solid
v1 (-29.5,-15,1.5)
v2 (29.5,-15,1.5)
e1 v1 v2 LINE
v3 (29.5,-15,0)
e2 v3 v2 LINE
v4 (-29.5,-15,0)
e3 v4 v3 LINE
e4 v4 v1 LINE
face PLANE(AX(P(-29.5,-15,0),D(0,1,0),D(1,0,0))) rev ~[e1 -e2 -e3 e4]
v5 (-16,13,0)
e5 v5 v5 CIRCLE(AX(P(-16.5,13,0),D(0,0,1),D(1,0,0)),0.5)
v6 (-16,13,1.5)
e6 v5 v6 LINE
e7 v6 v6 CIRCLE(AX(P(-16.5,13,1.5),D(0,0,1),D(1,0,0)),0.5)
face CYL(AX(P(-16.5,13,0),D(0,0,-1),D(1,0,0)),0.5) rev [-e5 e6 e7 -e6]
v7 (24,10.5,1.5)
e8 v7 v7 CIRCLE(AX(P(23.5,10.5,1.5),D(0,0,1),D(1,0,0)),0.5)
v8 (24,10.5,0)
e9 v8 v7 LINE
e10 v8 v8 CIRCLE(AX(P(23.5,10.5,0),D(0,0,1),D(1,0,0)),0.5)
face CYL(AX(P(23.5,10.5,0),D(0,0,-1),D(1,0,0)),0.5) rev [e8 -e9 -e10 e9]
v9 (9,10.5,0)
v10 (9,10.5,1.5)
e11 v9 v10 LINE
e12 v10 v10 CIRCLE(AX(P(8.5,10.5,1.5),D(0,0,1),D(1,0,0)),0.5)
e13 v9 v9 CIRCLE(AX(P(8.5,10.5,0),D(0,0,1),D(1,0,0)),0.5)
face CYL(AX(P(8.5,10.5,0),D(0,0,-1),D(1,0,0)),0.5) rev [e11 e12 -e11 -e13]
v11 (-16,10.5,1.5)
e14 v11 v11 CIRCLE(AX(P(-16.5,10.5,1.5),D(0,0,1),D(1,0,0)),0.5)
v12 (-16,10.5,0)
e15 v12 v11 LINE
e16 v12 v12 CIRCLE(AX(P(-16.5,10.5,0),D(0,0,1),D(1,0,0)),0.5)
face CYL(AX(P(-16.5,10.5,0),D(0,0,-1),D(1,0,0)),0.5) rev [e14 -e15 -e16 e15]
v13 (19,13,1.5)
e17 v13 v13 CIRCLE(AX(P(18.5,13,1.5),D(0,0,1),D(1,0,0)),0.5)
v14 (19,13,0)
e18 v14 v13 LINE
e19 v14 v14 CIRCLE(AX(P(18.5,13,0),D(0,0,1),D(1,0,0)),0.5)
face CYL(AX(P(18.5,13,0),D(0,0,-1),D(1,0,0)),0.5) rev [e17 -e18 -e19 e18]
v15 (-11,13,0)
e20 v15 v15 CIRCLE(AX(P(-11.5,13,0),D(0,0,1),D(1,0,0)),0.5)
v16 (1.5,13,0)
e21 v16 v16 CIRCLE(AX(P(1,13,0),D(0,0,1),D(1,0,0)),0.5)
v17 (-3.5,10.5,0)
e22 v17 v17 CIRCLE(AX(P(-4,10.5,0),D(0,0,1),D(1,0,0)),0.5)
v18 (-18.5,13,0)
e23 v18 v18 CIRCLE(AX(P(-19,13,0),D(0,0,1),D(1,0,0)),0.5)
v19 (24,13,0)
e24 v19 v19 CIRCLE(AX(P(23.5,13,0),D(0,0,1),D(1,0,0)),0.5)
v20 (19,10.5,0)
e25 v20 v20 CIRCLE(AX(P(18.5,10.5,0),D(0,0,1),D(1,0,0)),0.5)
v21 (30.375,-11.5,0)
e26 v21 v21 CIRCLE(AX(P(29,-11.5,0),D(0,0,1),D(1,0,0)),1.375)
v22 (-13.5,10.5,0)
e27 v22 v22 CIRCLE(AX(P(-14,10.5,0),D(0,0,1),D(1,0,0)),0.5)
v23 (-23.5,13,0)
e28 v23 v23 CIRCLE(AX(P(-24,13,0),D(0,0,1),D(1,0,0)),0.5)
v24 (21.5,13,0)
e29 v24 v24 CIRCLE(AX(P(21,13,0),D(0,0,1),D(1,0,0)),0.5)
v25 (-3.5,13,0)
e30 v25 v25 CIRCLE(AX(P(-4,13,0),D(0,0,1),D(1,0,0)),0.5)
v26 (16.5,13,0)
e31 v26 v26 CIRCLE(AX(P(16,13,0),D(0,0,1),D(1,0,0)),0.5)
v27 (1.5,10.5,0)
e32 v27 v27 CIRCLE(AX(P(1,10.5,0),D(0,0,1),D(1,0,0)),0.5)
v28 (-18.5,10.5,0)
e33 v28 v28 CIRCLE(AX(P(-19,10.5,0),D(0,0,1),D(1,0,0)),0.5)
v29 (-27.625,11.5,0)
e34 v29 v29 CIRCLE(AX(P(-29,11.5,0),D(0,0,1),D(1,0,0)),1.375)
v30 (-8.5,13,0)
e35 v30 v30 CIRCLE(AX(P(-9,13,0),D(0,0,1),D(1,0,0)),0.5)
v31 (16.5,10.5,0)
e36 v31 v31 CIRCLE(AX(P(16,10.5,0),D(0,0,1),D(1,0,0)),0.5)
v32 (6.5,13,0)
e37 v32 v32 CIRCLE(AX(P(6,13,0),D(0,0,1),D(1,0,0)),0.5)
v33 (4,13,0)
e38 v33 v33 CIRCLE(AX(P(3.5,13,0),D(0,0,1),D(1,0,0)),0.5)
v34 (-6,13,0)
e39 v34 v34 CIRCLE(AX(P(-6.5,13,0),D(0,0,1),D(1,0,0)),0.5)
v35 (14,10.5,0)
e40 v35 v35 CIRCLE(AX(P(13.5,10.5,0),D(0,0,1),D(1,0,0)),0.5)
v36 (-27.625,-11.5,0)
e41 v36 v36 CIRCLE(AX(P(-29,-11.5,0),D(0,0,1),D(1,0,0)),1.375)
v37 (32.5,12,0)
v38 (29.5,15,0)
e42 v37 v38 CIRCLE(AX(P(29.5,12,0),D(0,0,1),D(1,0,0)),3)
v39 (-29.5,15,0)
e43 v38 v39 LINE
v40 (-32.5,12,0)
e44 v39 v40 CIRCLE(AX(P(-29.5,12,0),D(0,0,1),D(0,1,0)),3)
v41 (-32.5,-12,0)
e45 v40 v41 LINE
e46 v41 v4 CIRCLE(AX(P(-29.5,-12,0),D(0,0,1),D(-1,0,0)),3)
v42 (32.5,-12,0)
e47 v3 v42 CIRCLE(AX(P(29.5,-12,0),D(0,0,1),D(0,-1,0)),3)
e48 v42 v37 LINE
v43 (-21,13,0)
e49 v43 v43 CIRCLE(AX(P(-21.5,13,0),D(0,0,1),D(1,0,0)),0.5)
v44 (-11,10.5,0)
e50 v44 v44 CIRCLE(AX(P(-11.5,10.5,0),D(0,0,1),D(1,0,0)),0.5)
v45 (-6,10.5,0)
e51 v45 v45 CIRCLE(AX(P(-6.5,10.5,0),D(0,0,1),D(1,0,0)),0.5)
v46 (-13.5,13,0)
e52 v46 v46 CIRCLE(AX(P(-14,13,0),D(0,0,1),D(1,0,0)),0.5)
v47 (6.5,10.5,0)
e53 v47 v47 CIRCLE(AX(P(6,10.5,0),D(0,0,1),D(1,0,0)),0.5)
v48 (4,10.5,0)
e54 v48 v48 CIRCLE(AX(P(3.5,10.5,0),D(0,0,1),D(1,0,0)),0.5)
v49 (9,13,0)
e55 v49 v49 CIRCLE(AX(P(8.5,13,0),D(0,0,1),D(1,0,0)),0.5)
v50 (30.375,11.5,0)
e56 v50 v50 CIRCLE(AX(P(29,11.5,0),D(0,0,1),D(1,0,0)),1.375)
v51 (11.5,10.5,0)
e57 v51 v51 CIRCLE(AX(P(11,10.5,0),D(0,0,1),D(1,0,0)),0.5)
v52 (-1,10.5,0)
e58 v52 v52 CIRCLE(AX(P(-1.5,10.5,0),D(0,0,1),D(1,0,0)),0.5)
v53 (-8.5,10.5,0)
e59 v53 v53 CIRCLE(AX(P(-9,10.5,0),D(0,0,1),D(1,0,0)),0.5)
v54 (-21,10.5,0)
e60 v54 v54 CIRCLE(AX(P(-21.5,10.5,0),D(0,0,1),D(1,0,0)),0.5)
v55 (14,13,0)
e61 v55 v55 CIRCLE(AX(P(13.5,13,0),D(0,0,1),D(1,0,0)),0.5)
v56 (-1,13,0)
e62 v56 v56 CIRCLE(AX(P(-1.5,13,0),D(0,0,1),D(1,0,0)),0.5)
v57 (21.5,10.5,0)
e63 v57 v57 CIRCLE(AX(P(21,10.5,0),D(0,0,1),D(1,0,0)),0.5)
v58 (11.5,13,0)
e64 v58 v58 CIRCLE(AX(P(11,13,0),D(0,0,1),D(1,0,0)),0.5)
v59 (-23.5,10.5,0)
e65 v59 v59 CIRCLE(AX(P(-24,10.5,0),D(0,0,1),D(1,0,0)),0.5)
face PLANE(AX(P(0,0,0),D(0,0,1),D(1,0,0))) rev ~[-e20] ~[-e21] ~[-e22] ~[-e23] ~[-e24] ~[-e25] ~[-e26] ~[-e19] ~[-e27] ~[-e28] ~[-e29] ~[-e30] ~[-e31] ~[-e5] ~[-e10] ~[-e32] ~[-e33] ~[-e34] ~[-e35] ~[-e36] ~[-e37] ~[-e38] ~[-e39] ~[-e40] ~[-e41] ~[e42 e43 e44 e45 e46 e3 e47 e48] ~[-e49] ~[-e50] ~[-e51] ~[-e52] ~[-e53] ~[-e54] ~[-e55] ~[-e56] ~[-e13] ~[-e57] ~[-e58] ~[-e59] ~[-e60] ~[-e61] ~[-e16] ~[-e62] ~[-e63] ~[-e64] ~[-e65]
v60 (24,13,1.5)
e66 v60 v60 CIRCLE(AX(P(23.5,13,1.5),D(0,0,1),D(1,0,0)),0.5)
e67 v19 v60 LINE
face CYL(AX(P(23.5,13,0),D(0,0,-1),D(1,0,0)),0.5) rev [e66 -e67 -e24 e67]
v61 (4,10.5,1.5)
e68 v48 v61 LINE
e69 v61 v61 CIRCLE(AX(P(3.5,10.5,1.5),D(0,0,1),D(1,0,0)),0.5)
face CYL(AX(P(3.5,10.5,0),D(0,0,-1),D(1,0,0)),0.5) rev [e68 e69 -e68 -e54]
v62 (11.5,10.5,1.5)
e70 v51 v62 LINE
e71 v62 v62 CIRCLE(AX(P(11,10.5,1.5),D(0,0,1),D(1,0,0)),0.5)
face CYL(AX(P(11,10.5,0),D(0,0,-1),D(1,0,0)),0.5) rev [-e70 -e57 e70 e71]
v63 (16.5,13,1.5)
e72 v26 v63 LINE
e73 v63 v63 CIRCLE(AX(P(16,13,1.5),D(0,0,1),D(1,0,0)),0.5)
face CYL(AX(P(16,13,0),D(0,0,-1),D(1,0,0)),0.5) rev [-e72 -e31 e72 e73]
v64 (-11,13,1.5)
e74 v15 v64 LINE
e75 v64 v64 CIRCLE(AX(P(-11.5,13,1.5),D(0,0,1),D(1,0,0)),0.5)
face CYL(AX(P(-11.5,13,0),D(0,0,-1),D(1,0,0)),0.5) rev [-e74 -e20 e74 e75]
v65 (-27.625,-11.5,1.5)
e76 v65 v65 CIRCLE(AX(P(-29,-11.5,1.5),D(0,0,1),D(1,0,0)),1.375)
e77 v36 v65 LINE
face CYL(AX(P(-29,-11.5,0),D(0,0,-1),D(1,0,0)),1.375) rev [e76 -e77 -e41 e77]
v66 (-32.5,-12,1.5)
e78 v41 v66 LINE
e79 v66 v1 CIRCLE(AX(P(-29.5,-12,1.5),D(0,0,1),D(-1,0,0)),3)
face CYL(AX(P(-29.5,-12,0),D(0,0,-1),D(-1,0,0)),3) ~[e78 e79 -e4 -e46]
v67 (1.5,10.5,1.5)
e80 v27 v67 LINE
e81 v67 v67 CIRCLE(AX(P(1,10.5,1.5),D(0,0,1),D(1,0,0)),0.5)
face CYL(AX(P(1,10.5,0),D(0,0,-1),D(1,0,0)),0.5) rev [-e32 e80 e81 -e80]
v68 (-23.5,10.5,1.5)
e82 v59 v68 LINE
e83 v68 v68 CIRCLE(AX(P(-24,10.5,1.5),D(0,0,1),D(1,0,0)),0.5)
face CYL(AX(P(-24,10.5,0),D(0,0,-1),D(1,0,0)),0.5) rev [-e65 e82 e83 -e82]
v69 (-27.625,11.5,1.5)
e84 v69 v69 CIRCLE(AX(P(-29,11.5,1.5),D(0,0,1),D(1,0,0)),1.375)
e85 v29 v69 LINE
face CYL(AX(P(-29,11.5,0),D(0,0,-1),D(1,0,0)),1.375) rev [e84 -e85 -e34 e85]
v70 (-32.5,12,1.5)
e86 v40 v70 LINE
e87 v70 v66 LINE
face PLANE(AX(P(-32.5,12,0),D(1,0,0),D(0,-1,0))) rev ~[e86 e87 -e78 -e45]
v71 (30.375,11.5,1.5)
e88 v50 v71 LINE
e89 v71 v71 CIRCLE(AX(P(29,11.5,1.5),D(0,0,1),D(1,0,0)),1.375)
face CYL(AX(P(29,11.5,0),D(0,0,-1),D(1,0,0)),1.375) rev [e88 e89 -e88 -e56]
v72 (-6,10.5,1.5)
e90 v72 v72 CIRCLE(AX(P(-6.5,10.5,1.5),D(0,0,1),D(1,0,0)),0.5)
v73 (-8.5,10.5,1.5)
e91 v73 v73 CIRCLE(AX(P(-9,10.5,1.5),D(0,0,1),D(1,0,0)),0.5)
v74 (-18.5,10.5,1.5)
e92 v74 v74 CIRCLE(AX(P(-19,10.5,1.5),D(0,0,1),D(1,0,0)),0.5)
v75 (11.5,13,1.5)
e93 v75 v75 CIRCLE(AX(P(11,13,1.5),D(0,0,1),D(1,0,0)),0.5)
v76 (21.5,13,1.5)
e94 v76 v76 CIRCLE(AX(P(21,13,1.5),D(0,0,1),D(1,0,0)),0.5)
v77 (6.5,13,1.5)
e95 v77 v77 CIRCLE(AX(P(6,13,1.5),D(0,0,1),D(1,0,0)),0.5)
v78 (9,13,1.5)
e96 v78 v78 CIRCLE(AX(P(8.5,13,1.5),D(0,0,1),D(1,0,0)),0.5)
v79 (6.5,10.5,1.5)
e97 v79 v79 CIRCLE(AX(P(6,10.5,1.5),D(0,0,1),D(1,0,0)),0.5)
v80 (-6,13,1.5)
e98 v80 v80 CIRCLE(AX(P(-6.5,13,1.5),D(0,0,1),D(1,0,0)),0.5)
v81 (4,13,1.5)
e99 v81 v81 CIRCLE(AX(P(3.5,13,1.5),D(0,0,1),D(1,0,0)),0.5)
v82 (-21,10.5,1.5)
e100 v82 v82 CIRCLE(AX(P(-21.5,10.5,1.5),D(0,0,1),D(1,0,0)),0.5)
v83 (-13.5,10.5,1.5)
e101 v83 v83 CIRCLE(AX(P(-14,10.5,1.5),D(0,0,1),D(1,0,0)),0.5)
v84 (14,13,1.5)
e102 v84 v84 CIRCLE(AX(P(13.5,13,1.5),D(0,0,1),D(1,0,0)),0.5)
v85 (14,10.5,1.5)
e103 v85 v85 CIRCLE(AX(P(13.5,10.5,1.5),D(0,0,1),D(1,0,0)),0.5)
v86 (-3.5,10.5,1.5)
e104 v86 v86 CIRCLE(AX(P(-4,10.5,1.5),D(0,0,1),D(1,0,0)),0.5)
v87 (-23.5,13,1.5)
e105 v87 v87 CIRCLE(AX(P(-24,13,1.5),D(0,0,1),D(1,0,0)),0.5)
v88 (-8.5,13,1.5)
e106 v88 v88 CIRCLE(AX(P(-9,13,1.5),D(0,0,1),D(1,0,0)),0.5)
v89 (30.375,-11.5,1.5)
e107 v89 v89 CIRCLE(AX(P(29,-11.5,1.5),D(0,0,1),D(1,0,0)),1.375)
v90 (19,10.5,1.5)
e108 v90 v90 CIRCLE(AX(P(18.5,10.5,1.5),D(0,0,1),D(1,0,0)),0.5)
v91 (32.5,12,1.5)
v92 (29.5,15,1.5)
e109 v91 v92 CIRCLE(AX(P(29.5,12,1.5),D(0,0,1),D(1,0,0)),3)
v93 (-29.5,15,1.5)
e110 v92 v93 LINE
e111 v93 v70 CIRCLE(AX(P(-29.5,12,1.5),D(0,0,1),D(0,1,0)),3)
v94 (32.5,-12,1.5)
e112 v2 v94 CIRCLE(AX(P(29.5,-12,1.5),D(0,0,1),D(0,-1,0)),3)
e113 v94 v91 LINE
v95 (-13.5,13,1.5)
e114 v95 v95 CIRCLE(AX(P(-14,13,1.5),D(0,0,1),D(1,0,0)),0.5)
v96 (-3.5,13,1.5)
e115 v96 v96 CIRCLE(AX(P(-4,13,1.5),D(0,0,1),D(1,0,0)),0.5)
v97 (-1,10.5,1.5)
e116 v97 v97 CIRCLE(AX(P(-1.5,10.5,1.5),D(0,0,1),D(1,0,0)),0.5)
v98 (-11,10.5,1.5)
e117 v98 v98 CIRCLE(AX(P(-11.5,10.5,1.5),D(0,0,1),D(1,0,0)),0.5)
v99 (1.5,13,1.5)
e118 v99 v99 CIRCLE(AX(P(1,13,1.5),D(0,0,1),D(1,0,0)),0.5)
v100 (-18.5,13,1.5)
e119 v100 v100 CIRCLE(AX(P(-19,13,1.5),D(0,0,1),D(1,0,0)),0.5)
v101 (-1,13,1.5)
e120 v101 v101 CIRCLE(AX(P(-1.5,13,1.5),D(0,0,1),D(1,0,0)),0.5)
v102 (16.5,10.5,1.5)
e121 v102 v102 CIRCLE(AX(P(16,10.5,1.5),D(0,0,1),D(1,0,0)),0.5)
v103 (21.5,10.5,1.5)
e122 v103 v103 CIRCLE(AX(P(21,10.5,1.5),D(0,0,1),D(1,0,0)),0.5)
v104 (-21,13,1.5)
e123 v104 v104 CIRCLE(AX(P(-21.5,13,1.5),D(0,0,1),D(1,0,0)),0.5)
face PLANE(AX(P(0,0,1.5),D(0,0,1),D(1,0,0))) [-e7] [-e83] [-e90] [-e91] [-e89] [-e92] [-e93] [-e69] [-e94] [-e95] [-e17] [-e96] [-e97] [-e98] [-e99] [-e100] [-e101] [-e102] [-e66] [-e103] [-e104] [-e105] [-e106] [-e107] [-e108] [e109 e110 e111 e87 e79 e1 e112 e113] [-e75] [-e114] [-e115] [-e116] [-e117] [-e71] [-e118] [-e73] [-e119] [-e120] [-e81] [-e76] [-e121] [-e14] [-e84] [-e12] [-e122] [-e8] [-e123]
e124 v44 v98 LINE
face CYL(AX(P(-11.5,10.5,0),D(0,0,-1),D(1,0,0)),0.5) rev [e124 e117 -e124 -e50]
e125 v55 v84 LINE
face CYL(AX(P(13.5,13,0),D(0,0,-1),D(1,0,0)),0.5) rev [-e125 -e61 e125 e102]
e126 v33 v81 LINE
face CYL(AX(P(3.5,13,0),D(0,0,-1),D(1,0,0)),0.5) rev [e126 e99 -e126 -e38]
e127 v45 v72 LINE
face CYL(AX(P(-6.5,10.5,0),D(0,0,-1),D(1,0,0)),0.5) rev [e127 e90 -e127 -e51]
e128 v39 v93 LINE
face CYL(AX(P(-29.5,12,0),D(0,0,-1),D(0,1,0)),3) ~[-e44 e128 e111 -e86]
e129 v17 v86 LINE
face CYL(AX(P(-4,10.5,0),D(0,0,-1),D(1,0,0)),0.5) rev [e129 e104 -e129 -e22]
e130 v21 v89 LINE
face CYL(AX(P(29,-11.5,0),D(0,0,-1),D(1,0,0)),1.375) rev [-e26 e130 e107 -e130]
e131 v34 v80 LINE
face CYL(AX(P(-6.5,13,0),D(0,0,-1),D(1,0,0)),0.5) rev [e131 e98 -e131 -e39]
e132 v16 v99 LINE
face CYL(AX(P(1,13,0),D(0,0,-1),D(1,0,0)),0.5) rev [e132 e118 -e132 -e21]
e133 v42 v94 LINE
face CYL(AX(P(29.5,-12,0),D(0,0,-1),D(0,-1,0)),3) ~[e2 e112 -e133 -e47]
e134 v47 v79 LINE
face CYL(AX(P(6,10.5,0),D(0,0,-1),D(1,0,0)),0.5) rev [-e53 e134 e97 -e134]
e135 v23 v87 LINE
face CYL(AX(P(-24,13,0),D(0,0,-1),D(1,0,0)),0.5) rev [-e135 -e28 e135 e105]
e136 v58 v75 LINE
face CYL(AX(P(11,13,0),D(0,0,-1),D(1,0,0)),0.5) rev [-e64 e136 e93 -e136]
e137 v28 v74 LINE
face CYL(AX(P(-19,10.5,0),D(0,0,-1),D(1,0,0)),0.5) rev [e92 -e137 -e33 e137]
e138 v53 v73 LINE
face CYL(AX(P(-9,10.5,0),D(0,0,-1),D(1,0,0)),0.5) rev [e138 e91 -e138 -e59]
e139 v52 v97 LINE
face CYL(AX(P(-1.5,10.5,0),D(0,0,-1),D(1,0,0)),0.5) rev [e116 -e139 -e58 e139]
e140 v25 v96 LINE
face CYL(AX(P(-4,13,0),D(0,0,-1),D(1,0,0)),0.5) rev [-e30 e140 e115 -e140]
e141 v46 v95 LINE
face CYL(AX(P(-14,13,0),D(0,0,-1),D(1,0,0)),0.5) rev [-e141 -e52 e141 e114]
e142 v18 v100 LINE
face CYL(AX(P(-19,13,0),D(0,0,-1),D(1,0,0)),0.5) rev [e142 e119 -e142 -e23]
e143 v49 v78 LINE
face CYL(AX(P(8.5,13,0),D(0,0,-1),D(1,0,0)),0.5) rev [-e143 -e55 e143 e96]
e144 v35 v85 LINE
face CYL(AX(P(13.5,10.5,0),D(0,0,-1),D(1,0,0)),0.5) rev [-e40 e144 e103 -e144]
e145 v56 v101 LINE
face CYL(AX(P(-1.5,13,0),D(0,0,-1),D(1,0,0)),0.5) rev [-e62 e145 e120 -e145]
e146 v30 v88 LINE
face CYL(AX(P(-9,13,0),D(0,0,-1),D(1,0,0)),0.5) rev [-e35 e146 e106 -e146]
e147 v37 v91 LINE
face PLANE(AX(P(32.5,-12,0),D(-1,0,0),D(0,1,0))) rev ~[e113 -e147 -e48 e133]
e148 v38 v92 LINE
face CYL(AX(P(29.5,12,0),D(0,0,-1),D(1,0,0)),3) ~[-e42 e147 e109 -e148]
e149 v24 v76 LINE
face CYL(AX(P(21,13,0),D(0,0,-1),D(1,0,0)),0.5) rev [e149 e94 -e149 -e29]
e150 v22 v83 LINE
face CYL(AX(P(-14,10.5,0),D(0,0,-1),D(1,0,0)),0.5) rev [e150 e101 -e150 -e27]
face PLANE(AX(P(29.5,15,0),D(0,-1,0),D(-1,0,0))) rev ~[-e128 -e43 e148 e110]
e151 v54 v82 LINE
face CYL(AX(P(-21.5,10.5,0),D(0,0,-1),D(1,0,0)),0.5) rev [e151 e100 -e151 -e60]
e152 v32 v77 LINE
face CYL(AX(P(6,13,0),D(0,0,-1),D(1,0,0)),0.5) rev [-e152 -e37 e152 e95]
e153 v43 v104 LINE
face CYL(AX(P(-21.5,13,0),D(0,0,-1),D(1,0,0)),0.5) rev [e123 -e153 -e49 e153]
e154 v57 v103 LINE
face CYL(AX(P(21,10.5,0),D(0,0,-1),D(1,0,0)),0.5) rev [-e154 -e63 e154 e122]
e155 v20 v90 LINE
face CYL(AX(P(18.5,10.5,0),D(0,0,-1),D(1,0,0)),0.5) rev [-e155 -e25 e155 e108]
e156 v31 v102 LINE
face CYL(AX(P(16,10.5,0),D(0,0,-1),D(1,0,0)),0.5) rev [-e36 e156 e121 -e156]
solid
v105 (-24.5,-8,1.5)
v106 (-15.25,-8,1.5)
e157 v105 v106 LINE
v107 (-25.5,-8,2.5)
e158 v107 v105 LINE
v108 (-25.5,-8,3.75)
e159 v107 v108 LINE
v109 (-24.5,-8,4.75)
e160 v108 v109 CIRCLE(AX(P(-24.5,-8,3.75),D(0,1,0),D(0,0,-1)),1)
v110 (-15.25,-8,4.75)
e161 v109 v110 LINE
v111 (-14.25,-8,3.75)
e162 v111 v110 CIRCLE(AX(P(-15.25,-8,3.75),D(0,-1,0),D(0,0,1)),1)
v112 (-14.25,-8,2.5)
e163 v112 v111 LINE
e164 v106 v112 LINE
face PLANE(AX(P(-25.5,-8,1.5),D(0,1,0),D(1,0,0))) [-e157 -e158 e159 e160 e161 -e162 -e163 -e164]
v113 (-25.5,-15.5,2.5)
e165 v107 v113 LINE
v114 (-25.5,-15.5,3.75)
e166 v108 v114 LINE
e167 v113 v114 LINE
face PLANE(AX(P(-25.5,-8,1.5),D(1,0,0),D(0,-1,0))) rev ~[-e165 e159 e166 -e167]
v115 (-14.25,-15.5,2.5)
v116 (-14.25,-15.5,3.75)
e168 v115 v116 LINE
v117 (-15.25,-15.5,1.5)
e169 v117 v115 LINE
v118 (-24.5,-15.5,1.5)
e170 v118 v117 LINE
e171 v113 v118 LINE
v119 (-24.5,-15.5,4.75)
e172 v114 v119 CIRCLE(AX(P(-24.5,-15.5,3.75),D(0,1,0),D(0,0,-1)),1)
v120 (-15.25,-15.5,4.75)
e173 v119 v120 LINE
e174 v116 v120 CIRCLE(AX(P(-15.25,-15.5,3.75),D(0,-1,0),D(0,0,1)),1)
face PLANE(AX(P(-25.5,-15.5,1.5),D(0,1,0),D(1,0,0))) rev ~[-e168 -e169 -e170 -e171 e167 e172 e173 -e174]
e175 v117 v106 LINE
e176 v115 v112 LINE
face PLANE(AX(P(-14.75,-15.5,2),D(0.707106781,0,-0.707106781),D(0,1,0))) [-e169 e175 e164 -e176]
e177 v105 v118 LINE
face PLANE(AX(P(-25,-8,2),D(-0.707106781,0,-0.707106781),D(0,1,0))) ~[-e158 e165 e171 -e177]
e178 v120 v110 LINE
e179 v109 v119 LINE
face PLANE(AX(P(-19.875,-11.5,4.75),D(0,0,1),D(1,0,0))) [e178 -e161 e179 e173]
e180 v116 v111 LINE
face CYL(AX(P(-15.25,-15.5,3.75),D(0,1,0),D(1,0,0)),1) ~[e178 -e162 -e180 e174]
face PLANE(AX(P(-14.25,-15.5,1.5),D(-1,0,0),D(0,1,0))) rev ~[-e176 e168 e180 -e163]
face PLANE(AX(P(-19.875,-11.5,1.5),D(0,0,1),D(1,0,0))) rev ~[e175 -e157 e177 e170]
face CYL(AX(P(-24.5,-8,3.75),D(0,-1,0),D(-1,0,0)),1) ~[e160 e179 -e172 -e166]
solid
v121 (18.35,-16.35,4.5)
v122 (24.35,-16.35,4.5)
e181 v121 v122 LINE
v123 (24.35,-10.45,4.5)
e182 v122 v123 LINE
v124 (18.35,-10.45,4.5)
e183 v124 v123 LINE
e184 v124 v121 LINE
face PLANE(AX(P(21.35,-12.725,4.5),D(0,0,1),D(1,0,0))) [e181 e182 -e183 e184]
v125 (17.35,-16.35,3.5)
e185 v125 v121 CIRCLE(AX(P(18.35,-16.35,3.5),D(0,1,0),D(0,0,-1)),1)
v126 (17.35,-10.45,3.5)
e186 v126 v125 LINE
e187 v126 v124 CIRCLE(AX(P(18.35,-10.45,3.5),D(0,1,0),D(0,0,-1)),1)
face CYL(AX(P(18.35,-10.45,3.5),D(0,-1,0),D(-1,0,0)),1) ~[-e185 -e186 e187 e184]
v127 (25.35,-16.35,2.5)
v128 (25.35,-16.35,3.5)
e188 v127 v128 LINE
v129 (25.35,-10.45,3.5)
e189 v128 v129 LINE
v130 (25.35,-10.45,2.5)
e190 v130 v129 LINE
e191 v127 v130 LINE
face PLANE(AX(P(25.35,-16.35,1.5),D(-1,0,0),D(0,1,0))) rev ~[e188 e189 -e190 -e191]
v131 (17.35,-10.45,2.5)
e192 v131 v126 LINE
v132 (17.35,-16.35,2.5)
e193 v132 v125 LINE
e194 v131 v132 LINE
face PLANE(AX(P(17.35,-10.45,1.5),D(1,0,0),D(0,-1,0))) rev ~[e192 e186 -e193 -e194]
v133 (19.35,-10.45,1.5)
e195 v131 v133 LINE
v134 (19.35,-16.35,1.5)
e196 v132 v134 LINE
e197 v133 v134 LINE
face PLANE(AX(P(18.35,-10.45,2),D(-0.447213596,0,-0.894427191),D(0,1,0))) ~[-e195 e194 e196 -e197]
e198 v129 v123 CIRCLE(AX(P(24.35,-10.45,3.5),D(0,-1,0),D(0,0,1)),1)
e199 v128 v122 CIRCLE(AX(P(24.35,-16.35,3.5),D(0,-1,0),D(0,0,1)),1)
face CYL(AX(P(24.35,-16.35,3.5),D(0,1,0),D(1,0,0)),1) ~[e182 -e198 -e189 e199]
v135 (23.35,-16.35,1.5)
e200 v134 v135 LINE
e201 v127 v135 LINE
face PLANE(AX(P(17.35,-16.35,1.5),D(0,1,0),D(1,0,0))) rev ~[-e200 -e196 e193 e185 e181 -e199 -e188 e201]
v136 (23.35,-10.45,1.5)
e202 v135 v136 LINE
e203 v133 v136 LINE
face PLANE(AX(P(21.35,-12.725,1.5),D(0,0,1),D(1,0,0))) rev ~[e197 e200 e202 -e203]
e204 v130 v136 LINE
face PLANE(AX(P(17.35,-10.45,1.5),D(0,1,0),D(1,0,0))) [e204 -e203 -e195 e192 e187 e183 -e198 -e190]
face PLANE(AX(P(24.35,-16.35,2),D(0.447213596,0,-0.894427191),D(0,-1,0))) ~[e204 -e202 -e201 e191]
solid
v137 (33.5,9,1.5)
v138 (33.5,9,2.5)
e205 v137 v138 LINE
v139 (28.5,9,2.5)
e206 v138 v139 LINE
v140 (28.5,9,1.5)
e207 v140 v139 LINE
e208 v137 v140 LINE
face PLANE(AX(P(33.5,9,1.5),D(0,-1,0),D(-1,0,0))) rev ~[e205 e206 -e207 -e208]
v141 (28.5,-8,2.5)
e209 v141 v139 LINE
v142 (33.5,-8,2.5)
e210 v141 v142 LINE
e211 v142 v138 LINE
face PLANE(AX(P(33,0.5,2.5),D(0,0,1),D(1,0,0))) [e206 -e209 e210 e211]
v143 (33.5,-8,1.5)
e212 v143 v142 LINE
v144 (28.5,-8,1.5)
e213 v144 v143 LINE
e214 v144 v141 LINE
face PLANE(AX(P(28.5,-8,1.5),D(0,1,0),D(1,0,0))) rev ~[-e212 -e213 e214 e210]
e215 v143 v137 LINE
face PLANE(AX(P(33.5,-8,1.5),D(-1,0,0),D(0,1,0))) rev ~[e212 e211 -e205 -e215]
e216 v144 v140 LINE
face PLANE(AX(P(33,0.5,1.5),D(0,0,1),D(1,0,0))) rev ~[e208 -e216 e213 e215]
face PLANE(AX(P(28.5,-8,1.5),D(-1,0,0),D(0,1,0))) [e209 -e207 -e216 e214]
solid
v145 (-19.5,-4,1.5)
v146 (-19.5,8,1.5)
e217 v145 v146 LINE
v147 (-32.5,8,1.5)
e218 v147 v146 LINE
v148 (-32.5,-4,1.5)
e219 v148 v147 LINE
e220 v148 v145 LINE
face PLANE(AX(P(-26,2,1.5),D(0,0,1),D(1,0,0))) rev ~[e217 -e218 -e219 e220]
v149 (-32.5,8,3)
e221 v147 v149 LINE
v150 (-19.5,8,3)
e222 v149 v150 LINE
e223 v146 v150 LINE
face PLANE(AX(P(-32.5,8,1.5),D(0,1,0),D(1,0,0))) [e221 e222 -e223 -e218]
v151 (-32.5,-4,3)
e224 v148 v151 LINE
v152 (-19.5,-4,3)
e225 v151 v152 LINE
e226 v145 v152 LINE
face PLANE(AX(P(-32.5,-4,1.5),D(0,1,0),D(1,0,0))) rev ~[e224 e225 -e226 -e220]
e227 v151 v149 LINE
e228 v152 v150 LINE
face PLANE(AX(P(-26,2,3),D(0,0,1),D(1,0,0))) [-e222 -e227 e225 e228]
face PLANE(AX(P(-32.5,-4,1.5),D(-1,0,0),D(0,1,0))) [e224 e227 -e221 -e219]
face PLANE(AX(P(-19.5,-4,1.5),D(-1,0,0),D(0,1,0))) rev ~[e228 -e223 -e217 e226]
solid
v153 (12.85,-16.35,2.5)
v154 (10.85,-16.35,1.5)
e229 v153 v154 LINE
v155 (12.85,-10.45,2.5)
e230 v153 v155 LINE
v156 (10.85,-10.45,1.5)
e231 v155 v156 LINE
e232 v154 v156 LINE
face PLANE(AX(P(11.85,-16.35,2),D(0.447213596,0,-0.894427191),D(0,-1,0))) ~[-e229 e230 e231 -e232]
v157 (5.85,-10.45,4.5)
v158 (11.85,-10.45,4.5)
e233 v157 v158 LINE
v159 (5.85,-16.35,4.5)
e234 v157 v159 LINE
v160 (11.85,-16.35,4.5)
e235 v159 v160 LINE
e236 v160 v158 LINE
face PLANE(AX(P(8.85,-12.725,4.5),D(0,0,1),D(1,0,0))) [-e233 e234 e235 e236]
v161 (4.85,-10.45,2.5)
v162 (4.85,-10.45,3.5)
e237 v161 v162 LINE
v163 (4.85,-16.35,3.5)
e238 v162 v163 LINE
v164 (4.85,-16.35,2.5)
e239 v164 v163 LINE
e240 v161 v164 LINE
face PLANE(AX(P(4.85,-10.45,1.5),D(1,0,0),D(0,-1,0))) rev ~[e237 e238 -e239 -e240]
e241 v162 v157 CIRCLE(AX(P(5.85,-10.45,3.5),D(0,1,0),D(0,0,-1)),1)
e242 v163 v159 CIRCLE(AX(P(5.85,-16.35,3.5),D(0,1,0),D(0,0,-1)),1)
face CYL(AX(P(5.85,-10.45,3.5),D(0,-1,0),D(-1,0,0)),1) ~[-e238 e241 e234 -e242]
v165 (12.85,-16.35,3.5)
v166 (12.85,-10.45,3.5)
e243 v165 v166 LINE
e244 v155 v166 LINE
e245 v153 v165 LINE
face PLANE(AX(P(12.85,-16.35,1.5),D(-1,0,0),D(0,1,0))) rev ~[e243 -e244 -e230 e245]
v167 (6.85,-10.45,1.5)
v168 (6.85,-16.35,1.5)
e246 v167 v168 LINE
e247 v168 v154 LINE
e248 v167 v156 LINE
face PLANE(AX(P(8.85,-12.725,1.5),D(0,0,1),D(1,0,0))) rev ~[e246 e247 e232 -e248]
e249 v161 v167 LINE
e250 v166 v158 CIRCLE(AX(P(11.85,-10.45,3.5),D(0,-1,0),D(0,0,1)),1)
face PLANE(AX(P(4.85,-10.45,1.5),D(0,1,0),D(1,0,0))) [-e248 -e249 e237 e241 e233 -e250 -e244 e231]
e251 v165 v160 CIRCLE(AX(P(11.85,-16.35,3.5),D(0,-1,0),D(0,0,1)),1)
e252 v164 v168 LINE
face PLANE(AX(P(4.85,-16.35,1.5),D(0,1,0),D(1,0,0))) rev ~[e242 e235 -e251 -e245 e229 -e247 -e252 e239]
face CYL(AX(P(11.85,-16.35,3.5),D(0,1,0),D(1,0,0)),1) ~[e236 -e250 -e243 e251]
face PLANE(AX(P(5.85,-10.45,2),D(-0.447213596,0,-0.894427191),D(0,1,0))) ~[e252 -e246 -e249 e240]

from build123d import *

# Parameters (mm, degrees)
F0_R       = 1.375
F0_R_2     = 0.5
F1_DEPTH   = 1.5
F2_W       = 13
F2_H       = 12
F3_DEPTH   = 1.5
F4_W       = 1
F4_H       = 17
F4_W_2     = 4
F5_DEPTH   = 1
F6_W       = 8
F6_H       = 4.55
F6_H_2     = 1.35
F7_DEPTH   = 3
F8_R       = 1
F8_2_R     = 1
F9_SIZE2   = 2
F9_SIZE    = 1
F9_2_SIZE2 = 2
F9_2_SIZE  = 1
F9_3_SIZE2 = 2
F9_3_SIZE  = 1
F9_4_SIZE2 = 2
F9_4_SIZE  = 1
F10_W      = 11.25
F10_H      = 7
F10_H_2    = 0.5
F11_DEPTH  = 3.25
F12_R      = 1
F13_SIZE   = 1


with BuildPart() as f1:
    # F0 (on Top) → F1 (new body)
    with BuildSketch(Plane.XY):
        with BuildLine():
            Line((-29.5, -15), (29.5, -15))
            ThreePointArc((29.5, -15), (31.6213203436, -14.1213203436), (32.5, -12))
            Line((32.5, -12), (32.5, 12))
            ThreePointArc((32.5, 12), (31.6213203436, 14.1213203436), (29.5, 15))
            Line((29.5, 15), (-29.5, 15))
            ThreePointArc((-29.5, 15), (-31.6213203436, 14.1213203436), (-32.5, 12))
            Line((-32.5, 12), (-32.5, -12))
            ThreePointArc((-32.5, -12), (-31.6213203436, -14.1213203436), (-29.5, -15))
        make_face()
        with Locations((-29, -11.5)):
            Circle(F0_R, mode=Mode.SUBTRACT)
        with Locations((29, -11.5)):
            Circle(F0_R, mode=Mode.SUBTRACT)
        with Locations((-24, 10.5)):
            Circle(F0_R_2, mode=Mode.SUBTRACT)
        with Locations((-21.5, 10.5)):
            Circle(F0_R_2, mode=Mode.SUBTRACT)
        with Locations((-19, 10.5)):
            Circle(F0_R_2, mode=Mode.SUBTRACT)
        with Locations((-16.5, 10.5)):
            Circle(F0_R_2, mode=Mode.SUBTRACT)
        with Locations((-29, 11.5)):
            Circle(F0_R, mode=Mode.SUBTRACT)
        with Locations((-24, 13)):
            Circle(F0_R_2, mode=Mode.SUBTRACT)
        with Locations((-21.5, 13)):
            Circle(F0_R_2, mode=Mode.SUBTRACT)
        with Locations((-19, 13)):
            Circle(F0_R_2, mode=Mode.SUBTRACT)
        with Locations((-16.5, 13)):
            Circle(F0_R_2, mode=Mode.SUBTRACT)
        with Locations((-14, 10.5)):
            Circle(F0_R_2, mode=Mode.SUBTRACT)
        with Locations((-11.5, 10.5)):
            Circle(F0_R_2, mode=Mode.SUBTRACT)
        with Locations((-9, 10.5)):
            Circle(F0_R_2, mode=Mode.SUBTRACT)
        with Locations((-6.5, 10.5)):
            Circle(F0_R_2, mode=Mode.SUBTRACT)
        with Locations((-4, 10.5)):
            Circle(F0_R_2, mode=Mode.SUBTRACT)
        with Locations((-1.5, 10.5)):
            Circle(F0_R_2, mode=Mode.SUBTRACT)
        with Locations((-14, 13)):
            Circle(F0_R_2, mode=Mode.SUBTRACT)
        with Locations((-11.5, 13)):
            Circle(F0_R_2, mode=Mode.SUBTRACT)
        with Locations((-9, 13)):
            Circle(F0_R_2, mode=Mode.SUBTRACT)
        with Locations((-6.5, 13)):
            Circle(F0_R_2, mode=Mode.SUBTRACT)
        with Locations((-4, 13)):
            Circle(F0_R_2, mode=Mode.SUBTRACT)
        with Locations((-1.5, 13)):
            Circle(F0_R_2, mode=Mode.SUBTRACT)
        with Locations((1, 10.5)):
            Circle(F0_R_2, mode=Mode.SUBTRACT)
        with Locations((3.5, 10.5)):
            Circle(F0_R_2, mode=Mode.SUBTRACT)
        with Locations((6, 10.5)):
            Circle(F0_R_2, mode=Mode.SUBTRACT)
        with Locations((8.5, 10.5)):
            Circle(F0_R_2, mode=Mode.SUBTRACT)
        with Locations((11, 10.5)):
            Circle(F0_R_2, mode=Mode.SUBTRACT)
        with Locations((13.5, 10.5)):
            Circle(F0_R_2, mode=Mode.SUBTRACT)
        with Locations((16, 10.5)):
            Circle(F0_R_2, mode=Mode.SUBTRACT)
        with Locations((1, 13)):
            Circle(F0_R_2, mode=Mode.SUBTRACT)
        with Locations((3.5, 13)):
            Circle(F0_R_2, mode=Mode.SUBTRACT)
        with Locations((6, 13)):
            Circle(F0_R_2, mode=Mode.SUBTRACT)
        with Locations((8.5, 13)):
            Circle(F0_R_2, mode=Mode.SUBTRACT)
        with Locations((11, 13)):
            Circle(F0_R_2, mode=Mode.SUBTRACT)
        with Locations((13.5, 13)):
            Circle(F0_R_2, mode=Mode.SUBTRACT)
        with Locations((16, 13)):
            Circle(F0_R_2, mode=Mode.SUBTRACT)
        with Locations((18.5, 10.5)):
            Circle(F0_R_2, mode=Mode.SUBTRACT)
        with Locations((21, 10.5)):
            Circle(F0_R_2, mode=Mode.SUBTRACT)
        with Locations((23.5, 10.5)):
            Circle(F0_R_2, mode=Mode.SUBTRACT)
        with Locations((18.5, 13)):
            Circle(F0_R_2, mode=Mode.SUBTRACT)
        with Locations((21, 13)):
            Circle(F0_R_2, mode=Mode.SUBTRACT)
        with Locations((23.5, 13)):
            Circle(F0_R_2, mode=Mode.SUBTRACT)
        with Locations((29, 11.5)):
            Circle(F0_R, mode=Mode.SUBTRACT)
    extrude(amount=F1_DEPTH)


with BuildPart() as f3:
    # F2 (on face) → F3 (new body)
    with BuildSketch(Plane.XY.offset(1.5)):
        with Locations((-26, 2)):
            Rectangle(F2_W, F2_H)
    extrude(amount=F3_DEPTH)


with BuildPart() as f5:
    # F4 (on face) → F5 (new body)
    with BuildSketch(Plane.XY.offset(1.5)):
        with Locations((33, 0.5)):
            Rectangle(F4_W, F4_H)
        with Locations((30.5, 0.5)):
            Rectangle(F4_W_2, F4_H)
    extrude(amount=F5_DEPTH)


with BuildPart() as f7:
    # F6 (on face) → F7 (new body)
    with BuildSketch(Plane.XY.offset(1.5)):
        with Locations((8.85, -12.725)):
            Rectangle(F6_W, F6_H)
        with Locations((8.85, -15.675)):
            Rectangle(F6_W, F6_H_2)
    extrude(amount=F7_DEPTH)

    # F8#2
    f8_2_edges = [f7.edges().sort_by_distance(p)[0] for p in [
        (12.85, -13.4, 4.5),
        (4.85, -13.4, 4.5),
    ]]
    fillet(f8_2_edges, radius=F8_2_R)

    # F9#3
    f9_3_edges = [f7.edges().sort_by_distance(p)[0] for p in [
        (12.85, -13.4, 1.5),
    ]]
    f9_3_side = f7.faces().sort_by_distance((12.85, -13.4, 2.5))[0]
    chamfer(f9_3_edges, length=F9_3_SIZE, length2=F9_3_SIZE2, reference=f9_3_side)

    # F9#4
    f9_4_edges = [f7.edges().sort_by_distance(p)[0] for p in [
        (4.85, -13.4, 1.5),
    ]]
    f9_4_side = f7.faces().sort_by_distance((4.85, -13.4, 2.5))[0]
    chamfer(f9_4_edges, length=F9_4_SIZE, length2=F9_4_SIZE2, reference=f9_4_side)


with BuildPart() as f7b:
    # F6 (on face) → F7, piece 2 (new body)
    with BuildSketch(Plane.XY.offset(1.5)):
        with Locations((21.35, -12.725)):
            Rectangle(F6_W, F6_H)
        with Locations((21.35, -15.675)):
            Rectangle(F6_W, F6_H_2)
    extrude(amount=F7_DEPTH)

    # F8
    f8_edges = [f7b.edges().sort_by_distance(p)[0] for p in [
        (25.35, -13.4, 4.5),
        (17.35, -13.4, 4.5),
    ]]
    fillet(f8_edges, radius=F8_R)

    # F9
    f9_edges = [f7b.edges().sort_by_distance(p)[0] for p in [
        (25.35, -13.4, 1.5),
    ]]
    f9_side = f7b.faces().sort_by_distance((25.35, -13.4, 2.5))[0]
    chamfer(f9_edges, length=F9_SIZE, length2=F9_SIZE2, reference=f9_side)

    # F9#2
    f9_2_edges = [f7b.edges().sort_by_distance(p)[0] for p in [
        (17.35, -13.4, 1.5),
    ]]
    f9_2_side = f7b.faces().sort_by_distance((17.35, -13.4, 2.5))[0]
    chamfer(f9_2_edges, length=F9_2_SIZE, length2=F9_2_SIZE2, reference=f9_2_side)


with BuildPart() as f11:
    # F10 (on face) → F11 (new body)
    with BuildSketch(Plane.XY.offset(1.5)):
        with Locations((-19.875, -11.5)):
            Rectangle(F10_W, F10_H)
        with Locations((-19.875, -15.25)):
            Rectangle(F10_W, F10_H_2)
    extrude(amount=F11_DEPTH)

    # F12
    f12_edges = [f11.edges().sort_by_distance(p)[0] for p in [
        (-25.5, -11.75, 4.75),
        (-14.25, -11.75, 4.75),
    ]]
    fillet(f12_edges, radius=F12_R)

    # F13
    f13_edges = [f11.edges().sort_by_distance(p)[0] for p in [
        (-25.5, -11.75, 1.5),
        (-14.25, -11.75, 1.5),
    ]]
    chamfer(f13_edges, length=F13_SIZE)


solid = Compound([f1.part, f3.part, f5.part, f7.part, f7b.part, f11.part])
